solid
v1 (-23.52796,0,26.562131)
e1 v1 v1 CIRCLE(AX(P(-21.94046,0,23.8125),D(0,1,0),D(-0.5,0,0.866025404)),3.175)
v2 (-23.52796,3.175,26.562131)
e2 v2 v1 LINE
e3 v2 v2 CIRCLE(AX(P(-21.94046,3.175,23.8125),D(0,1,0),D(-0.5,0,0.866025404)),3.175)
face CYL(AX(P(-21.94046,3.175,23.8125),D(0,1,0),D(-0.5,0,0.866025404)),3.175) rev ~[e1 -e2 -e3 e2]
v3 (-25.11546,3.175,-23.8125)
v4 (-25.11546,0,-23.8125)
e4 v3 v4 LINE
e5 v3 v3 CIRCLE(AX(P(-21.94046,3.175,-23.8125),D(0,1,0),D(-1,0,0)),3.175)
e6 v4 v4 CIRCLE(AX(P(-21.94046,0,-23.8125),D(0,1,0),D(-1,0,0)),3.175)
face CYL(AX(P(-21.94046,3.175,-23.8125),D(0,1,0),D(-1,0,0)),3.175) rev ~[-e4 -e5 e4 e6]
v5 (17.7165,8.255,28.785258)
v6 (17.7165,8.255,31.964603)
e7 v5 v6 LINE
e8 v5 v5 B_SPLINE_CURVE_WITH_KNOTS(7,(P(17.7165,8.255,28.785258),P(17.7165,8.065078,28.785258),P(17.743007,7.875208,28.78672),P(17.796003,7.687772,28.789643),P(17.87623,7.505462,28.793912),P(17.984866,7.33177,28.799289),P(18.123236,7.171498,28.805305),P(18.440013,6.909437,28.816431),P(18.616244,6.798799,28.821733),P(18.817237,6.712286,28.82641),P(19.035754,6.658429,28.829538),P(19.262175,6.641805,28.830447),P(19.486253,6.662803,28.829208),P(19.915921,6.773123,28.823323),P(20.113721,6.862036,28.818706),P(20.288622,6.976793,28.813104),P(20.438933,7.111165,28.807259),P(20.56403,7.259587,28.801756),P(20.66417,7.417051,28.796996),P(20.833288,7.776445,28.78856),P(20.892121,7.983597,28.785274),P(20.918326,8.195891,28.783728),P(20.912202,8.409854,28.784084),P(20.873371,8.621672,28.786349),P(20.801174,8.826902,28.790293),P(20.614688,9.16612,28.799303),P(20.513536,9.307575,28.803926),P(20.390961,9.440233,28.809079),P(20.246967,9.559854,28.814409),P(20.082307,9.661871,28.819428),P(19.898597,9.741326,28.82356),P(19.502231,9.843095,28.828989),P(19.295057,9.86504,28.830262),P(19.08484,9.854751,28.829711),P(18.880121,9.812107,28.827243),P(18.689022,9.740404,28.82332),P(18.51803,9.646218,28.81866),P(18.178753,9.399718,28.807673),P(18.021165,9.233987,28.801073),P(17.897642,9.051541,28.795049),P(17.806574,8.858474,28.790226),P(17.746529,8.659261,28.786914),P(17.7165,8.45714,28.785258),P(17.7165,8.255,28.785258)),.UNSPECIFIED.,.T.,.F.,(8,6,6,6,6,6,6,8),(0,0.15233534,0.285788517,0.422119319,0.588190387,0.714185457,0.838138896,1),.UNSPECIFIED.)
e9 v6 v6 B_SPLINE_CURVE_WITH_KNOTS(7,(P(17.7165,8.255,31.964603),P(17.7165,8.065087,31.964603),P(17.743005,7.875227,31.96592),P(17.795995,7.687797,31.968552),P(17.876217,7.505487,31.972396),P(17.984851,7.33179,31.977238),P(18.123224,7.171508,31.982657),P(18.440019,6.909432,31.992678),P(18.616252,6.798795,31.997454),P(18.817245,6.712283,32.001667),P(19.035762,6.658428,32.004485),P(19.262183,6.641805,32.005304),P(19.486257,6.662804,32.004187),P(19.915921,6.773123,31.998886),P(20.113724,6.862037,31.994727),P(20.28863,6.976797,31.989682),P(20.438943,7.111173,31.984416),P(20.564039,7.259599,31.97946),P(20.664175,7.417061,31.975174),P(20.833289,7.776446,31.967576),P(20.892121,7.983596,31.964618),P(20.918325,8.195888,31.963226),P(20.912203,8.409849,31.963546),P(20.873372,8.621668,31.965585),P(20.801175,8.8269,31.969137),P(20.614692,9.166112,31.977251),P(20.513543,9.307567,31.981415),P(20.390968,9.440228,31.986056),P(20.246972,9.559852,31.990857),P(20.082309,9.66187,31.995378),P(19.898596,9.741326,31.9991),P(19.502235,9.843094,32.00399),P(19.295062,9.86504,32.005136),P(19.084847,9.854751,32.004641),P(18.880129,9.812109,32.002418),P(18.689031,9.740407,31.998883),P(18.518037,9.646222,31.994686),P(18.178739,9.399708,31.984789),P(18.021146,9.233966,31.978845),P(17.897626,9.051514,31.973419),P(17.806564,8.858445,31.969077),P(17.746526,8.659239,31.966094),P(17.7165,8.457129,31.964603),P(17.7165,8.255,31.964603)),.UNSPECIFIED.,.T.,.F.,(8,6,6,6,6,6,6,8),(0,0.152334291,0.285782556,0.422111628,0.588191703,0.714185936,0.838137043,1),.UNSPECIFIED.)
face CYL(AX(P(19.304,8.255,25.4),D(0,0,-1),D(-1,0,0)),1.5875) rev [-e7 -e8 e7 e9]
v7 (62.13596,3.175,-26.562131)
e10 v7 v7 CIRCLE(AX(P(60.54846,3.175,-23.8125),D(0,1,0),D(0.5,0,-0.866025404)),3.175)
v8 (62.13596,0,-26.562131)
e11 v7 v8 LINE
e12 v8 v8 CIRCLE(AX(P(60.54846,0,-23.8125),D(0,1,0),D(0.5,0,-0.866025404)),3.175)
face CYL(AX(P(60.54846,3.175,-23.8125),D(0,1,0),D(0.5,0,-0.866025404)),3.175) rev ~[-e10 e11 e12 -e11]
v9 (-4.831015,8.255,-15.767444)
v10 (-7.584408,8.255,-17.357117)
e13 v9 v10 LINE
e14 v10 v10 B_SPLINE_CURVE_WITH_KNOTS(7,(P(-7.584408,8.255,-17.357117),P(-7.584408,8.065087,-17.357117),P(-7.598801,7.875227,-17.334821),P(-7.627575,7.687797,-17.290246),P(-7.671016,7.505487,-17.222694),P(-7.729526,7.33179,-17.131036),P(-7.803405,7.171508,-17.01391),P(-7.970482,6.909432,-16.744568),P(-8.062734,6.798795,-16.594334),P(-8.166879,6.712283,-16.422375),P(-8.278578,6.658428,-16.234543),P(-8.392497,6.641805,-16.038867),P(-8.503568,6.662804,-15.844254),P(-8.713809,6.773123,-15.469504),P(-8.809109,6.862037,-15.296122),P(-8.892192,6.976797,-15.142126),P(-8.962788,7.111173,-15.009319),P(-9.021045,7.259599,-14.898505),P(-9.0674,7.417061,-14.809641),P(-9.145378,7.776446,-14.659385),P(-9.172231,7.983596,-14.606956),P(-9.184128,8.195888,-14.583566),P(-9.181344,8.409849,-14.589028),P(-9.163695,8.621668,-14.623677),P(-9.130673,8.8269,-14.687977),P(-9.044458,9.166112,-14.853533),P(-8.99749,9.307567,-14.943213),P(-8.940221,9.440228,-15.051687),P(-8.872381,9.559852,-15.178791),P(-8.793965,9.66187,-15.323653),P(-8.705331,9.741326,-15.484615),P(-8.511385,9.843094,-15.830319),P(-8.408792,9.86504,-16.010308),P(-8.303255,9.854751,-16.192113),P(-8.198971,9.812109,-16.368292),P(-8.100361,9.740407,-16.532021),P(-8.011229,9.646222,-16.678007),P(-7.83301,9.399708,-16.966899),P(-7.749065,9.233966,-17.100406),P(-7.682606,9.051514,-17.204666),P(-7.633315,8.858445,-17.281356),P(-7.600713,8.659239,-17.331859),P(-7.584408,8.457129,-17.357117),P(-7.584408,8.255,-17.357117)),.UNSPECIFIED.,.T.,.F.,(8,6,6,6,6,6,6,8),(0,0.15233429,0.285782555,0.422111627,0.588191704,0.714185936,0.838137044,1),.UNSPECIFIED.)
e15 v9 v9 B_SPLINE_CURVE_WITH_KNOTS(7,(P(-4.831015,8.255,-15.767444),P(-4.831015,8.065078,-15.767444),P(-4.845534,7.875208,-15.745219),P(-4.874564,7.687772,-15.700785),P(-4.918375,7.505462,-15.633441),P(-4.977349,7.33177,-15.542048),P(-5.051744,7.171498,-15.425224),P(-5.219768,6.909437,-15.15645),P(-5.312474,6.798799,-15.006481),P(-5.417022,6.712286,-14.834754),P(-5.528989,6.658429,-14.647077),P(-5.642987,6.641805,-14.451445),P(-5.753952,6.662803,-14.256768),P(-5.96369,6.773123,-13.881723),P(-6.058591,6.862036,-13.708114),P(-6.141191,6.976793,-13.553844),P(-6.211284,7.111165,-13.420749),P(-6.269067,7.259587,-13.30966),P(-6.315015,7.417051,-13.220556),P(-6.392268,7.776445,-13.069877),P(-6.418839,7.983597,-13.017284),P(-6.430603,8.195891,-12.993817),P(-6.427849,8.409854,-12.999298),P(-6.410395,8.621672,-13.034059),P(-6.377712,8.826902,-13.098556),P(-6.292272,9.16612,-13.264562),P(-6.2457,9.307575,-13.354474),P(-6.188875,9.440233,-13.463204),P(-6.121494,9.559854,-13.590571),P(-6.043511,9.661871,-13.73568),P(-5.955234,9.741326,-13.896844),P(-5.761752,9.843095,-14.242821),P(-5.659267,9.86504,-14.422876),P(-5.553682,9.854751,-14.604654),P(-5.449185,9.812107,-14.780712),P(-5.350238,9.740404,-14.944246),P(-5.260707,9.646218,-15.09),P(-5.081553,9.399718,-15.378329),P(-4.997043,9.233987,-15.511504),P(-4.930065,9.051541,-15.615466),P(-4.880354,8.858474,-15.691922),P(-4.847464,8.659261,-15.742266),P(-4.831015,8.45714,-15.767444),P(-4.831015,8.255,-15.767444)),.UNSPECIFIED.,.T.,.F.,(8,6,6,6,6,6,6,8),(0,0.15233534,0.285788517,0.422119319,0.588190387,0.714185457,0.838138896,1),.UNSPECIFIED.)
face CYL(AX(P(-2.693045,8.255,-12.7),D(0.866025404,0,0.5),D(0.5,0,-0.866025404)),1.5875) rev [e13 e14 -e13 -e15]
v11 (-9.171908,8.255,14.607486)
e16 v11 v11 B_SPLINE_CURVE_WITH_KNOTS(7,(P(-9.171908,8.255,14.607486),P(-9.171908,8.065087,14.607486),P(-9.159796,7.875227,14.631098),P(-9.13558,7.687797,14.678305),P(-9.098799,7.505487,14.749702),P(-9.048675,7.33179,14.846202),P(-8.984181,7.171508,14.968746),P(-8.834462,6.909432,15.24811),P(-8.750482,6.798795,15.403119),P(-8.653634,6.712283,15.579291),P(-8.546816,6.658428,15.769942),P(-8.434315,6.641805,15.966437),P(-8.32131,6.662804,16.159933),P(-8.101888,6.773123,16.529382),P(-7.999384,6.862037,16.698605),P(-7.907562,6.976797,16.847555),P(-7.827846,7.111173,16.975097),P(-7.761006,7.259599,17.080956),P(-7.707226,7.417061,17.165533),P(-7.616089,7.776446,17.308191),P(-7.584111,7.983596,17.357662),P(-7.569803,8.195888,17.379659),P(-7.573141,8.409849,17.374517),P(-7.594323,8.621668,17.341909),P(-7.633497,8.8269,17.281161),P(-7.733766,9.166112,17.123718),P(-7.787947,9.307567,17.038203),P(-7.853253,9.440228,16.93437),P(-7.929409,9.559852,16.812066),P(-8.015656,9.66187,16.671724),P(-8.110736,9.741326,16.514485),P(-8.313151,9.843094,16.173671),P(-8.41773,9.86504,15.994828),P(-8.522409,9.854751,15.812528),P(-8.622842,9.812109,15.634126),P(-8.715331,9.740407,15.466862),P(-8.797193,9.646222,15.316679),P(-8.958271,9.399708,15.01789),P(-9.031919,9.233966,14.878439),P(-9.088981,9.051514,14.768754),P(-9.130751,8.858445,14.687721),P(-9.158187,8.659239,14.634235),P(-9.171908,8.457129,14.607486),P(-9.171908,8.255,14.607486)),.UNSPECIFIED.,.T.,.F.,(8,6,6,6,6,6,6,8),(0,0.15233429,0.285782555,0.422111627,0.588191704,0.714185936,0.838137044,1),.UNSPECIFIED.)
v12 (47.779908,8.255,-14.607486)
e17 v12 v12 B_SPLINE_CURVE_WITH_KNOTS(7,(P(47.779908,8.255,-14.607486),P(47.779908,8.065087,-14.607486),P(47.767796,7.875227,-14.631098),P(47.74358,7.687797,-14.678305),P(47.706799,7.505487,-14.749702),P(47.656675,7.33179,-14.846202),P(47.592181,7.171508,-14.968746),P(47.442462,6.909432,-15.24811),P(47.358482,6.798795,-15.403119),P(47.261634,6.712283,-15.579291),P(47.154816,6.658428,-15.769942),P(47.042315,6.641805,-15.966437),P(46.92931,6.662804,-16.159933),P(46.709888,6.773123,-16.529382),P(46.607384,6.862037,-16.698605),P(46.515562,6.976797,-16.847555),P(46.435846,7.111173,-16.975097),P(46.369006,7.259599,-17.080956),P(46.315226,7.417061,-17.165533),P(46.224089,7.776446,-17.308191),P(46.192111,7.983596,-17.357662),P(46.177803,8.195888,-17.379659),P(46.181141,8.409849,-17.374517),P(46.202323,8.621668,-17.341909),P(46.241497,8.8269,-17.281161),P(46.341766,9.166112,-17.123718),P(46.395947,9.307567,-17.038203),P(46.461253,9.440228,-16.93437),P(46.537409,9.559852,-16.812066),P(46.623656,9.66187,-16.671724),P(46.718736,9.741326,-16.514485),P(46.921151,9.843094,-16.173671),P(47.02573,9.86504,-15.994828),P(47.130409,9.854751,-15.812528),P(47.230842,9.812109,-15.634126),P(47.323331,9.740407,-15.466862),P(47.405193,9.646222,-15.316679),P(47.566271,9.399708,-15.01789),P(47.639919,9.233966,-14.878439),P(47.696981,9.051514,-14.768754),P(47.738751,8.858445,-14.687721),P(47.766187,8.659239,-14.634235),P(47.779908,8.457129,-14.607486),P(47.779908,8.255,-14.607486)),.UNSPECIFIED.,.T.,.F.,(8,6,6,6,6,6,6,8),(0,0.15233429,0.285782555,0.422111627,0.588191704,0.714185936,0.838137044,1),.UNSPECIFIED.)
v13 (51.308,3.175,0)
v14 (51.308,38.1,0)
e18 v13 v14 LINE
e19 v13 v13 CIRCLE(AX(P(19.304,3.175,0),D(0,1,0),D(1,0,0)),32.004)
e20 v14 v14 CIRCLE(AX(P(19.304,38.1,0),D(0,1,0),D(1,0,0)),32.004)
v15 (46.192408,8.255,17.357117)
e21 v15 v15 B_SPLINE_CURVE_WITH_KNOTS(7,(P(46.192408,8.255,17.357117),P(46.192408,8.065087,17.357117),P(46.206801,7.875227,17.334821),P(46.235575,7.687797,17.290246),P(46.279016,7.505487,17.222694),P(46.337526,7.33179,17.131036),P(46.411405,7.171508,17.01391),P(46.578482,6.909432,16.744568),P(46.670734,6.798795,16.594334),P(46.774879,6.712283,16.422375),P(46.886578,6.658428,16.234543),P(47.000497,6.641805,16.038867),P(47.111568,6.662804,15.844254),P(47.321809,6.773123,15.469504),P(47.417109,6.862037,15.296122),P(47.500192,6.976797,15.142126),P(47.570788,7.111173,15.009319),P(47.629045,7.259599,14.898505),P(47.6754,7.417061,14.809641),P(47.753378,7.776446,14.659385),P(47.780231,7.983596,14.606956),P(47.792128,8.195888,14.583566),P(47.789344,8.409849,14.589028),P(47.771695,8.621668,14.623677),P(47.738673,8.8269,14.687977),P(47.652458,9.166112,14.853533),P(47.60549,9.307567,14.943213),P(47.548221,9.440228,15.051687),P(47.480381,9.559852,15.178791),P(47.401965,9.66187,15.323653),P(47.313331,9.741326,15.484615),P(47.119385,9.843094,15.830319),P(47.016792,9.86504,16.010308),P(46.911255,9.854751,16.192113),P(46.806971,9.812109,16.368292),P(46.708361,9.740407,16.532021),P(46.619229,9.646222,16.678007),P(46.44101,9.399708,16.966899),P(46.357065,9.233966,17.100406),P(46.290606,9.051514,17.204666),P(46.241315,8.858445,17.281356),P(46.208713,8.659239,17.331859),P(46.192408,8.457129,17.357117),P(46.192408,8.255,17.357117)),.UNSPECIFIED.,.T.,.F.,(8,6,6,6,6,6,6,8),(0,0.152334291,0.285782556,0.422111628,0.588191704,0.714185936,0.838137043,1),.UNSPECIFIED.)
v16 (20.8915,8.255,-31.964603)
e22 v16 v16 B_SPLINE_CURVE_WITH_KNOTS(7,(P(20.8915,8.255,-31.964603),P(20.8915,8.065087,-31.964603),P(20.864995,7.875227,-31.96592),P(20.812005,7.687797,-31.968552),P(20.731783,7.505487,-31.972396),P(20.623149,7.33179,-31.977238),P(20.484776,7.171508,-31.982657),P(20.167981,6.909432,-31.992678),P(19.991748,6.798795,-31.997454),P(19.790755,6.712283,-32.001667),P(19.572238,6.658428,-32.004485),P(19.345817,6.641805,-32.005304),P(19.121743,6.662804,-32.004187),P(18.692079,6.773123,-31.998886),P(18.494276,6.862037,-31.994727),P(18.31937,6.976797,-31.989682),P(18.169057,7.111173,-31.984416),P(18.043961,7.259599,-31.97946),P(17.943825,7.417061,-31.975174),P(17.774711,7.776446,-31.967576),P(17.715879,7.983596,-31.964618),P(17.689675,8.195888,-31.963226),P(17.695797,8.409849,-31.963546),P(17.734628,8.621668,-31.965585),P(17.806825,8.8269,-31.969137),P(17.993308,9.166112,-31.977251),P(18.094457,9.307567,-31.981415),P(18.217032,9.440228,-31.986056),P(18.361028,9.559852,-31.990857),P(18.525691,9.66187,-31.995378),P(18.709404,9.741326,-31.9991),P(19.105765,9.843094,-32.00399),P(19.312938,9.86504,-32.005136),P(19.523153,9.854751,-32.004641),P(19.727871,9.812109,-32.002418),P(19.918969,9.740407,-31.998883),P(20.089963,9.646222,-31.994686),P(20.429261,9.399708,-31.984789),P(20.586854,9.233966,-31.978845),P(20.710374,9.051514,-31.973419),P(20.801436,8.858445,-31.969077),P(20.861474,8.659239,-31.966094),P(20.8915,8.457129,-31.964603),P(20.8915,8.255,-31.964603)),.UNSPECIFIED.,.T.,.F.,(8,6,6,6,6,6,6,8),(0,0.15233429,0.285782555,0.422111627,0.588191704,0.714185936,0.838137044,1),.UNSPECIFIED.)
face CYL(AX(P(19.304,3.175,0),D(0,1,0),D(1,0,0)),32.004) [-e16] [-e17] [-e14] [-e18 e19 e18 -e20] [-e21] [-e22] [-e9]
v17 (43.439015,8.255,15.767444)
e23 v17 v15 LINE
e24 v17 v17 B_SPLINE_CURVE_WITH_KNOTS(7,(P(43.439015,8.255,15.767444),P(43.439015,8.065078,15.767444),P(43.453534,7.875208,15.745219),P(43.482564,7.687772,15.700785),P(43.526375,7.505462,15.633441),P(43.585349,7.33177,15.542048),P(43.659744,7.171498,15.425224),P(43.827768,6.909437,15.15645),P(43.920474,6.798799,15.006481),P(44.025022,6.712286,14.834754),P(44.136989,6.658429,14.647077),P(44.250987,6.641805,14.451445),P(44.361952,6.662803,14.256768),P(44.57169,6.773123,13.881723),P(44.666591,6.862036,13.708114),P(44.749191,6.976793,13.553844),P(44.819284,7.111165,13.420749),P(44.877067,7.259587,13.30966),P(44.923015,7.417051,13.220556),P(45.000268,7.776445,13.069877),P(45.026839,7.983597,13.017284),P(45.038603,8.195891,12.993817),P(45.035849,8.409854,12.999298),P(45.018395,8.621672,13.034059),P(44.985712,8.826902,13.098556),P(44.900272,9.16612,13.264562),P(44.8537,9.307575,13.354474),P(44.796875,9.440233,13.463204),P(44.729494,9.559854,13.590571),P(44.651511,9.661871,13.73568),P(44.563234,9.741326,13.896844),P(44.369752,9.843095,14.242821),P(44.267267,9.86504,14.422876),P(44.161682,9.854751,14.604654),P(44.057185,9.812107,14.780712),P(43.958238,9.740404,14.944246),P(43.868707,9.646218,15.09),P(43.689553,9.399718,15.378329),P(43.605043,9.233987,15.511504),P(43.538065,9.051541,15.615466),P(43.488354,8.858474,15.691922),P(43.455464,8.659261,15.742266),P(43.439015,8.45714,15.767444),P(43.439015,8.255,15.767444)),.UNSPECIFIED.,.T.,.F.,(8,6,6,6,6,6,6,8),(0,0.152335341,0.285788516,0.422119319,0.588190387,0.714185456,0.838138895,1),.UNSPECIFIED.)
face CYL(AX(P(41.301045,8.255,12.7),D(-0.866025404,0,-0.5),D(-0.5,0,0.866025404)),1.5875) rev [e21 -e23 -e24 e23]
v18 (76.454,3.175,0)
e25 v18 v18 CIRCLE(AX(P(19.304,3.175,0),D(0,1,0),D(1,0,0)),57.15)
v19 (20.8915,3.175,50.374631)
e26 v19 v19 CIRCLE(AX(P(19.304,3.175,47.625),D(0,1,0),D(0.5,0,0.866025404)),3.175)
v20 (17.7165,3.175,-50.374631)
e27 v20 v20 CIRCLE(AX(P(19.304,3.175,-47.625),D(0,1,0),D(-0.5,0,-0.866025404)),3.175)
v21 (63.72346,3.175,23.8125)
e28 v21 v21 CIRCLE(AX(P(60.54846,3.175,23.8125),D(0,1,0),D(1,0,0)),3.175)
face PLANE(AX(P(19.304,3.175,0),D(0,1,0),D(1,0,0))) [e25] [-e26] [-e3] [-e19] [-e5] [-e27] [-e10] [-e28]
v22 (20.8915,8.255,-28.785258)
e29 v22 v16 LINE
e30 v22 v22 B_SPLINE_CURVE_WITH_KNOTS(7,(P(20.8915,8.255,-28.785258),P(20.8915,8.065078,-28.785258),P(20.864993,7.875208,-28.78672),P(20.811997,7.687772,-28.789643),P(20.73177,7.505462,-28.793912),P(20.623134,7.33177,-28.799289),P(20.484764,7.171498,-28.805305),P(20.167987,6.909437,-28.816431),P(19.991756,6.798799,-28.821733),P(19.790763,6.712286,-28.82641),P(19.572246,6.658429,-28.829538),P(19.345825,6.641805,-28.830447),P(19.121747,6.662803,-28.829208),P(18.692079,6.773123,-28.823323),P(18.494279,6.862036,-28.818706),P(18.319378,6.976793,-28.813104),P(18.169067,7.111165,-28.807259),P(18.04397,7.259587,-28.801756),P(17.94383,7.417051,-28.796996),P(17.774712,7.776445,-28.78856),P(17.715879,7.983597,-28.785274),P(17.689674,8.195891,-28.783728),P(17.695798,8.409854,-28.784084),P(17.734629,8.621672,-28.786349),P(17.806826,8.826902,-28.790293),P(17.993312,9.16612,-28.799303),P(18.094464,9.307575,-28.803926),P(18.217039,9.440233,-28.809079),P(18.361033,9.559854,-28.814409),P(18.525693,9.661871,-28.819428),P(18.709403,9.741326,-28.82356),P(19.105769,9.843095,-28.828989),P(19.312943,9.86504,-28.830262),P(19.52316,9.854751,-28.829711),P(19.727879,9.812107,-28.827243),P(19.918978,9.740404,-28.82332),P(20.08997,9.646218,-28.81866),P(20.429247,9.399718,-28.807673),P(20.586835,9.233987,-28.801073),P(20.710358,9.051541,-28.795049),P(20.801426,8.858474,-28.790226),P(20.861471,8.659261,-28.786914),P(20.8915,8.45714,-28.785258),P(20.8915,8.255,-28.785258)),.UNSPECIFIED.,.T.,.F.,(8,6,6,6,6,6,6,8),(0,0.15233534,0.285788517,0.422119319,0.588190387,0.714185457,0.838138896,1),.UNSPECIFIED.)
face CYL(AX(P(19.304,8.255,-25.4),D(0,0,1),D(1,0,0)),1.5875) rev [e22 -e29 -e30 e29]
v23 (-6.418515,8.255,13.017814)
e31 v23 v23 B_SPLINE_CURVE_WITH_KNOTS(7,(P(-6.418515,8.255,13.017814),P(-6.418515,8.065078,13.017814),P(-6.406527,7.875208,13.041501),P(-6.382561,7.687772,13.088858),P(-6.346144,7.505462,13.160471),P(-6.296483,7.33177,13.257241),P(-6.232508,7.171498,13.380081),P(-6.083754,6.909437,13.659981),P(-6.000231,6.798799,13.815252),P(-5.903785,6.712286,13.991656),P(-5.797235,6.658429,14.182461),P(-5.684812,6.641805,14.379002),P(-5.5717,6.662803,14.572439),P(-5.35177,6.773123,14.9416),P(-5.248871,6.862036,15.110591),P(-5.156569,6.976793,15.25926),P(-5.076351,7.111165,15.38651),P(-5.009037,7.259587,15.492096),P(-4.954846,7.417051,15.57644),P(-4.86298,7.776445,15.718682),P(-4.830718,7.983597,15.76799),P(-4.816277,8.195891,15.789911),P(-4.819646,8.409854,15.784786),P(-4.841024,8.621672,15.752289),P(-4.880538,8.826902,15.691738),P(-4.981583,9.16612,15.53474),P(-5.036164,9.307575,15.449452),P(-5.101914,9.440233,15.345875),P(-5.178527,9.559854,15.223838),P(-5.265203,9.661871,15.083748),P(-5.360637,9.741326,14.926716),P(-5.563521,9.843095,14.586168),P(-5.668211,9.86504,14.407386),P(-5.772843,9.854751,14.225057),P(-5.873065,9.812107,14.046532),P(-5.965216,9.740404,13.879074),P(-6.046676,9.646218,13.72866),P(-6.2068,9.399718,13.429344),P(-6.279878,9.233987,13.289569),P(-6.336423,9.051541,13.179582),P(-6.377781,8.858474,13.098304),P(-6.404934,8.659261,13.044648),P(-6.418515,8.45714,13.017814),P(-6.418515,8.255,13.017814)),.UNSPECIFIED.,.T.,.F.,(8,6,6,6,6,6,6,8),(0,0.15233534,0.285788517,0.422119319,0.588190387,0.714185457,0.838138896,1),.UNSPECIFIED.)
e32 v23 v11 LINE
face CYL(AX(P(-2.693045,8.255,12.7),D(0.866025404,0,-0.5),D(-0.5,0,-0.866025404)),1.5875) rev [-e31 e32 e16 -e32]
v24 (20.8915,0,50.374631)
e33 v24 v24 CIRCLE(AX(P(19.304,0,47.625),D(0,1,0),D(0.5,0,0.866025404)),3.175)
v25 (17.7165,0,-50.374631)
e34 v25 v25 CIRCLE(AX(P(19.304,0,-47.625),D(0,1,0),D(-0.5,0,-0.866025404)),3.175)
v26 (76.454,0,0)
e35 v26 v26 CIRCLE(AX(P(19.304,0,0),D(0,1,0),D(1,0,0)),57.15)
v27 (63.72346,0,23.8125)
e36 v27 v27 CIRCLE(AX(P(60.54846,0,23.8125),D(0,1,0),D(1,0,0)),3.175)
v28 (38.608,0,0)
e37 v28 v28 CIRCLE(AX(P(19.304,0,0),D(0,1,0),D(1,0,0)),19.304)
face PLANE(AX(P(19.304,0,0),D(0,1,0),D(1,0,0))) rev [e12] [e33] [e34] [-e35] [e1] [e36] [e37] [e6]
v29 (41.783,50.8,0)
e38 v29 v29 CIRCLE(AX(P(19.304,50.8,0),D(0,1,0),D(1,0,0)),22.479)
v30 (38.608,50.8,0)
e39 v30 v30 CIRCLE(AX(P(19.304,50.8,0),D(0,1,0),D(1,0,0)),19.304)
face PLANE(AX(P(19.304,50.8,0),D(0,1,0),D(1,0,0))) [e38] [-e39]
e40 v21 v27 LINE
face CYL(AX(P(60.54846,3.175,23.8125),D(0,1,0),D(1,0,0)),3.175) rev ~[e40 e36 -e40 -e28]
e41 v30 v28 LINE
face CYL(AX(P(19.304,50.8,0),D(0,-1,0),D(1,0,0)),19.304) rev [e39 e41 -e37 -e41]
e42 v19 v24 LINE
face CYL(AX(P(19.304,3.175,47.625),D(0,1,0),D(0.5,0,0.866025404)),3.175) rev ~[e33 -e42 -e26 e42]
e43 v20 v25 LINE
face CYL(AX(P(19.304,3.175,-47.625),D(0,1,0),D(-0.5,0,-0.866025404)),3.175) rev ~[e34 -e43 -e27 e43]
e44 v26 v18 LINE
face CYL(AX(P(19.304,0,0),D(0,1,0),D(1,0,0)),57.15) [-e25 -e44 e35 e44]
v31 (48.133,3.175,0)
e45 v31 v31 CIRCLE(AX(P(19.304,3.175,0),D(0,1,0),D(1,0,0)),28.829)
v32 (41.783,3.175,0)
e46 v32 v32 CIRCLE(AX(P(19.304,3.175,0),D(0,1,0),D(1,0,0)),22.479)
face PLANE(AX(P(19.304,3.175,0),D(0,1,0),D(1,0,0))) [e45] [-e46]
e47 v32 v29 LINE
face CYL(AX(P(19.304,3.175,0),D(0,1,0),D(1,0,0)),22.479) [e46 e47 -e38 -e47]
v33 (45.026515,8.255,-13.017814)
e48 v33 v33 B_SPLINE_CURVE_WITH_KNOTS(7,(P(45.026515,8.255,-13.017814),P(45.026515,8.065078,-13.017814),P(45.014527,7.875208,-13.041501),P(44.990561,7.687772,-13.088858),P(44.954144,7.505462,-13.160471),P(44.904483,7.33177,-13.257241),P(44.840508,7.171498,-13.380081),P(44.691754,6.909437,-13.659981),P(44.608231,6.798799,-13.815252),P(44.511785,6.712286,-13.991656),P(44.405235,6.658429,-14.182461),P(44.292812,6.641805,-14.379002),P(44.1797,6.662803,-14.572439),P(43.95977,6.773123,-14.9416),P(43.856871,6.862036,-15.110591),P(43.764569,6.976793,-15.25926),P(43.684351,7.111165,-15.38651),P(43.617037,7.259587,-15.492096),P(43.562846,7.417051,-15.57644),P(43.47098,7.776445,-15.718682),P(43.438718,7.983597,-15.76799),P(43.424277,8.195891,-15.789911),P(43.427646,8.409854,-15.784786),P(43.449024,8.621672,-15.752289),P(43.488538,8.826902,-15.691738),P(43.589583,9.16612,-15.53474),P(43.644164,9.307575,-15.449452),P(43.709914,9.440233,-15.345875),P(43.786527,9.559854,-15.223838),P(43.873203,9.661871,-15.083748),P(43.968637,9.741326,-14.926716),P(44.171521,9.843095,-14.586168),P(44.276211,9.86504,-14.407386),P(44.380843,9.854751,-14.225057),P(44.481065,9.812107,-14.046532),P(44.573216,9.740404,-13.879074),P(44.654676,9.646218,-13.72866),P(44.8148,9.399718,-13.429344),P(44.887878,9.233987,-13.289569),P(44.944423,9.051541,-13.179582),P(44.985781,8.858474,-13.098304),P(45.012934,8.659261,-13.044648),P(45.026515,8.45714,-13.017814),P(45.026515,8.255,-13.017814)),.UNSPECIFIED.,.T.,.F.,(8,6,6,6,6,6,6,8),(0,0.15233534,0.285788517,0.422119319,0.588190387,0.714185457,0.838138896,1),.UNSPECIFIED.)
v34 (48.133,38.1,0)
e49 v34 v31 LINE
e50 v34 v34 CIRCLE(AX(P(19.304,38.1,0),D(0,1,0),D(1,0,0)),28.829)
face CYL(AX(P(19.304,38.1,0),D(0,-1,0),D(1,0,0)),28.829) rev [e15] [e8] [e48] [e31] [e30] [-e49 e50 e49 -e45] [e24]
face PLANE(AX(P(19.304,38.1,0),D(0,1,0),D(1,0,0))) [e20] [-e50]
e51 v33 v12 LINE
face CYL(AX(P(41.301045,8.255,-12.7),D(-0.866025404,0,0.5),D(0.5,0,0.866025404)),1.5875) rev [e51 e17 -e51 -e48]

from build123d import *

# Parameters (mm, degrees)
CUT_EXTRUDE1_START = 25.4
SKETCH2_R          = 1.5875
CUT_EXTRUDE1_DEPTH = 32.512
CIRPATTERN1_COUNT  = 6
SKETCH3_R          = 3.175
CUT_EXTRUDE2_DEPTH = 50.8
CIRPATTERN2_COUNT  = 6


with BuildPart() as part:
    # Sketch1 → Revolve1 (revolve)
    with BuildSketch(Plane.XY, mode=Mode.PRIVATE) as revolve1_sk:
        Polygon((-12.7, 3.175), (-12.7, 38.1), (-9.525, 38.1), (-9.525, 3.175), (-3.175, 3.175), (-3.175, 50.8), (0, 50.8), (0, 0), (-37.846, 0), (-37.846, 3.175), align=None)
    revolve(revolve1_sk.sketch.rotate(Axis((19.304, 0, 0), (0, 1, 0)), 180), axis=Axis((19.304, 0, 0), (0, 1, 0)))

    # Sketch2 → Cut-Extrude1 (cut)
    with BuildSketch(Plane.XY.offset(CUT_EXTRUDE1_START)):
        with Locations(Location((19.304, 8.255, 0), (0, 0, 180))):
            Circle(SKETCH2_R)
    cut_extrude1 = extrude(amount=CUT_EXTRUDE1_DEPTH, mode=Mode.SUBTRACT)

    # CirPattern1: Cut-Extrude1 ×6 about axis
    cirpattern1_axis = Axis((19.304, 0, 0), (0, -1, 0))
    for i in range(1, CIRPATTERN1_COUNT):
        add(cut_extrude1.rotate(cirpattern1_axis, i * 360 / CIRPATTERN1_COUNT), mode=Mode.SUBTRACT)

    # Sketch3 → Cut-Extrude2 (cut)
    with BuildSketch(Plane(origin=(0, 3.175, 0), x_dir=(1, 0, 0), z_dir=(0, 1, 0))):
        with Locations(Location((-21.940459855, 23.8125, 0), (0, 0, 180))):
            Circle(SKETCH3_R)
    cut_extrude2 = extrude(amount=-CUT_EXTRUDE2_DEPTH, mode=Mode.SUBTRACT)

    # CirPattern2: Cut-Extrude2 ×6 about axis
    cirpattern2_axis = Axis((19.304, 0, 0), (0, 1, 0))
    for i in range(1, CIRPATTERN2_COUNT):
        add(cut_extrude2.rotate(cirpattern2_axis, i * 360 / CIRPATTERN2_COUNT), mode=Mode.SUBTRACT)


solid = part.part
